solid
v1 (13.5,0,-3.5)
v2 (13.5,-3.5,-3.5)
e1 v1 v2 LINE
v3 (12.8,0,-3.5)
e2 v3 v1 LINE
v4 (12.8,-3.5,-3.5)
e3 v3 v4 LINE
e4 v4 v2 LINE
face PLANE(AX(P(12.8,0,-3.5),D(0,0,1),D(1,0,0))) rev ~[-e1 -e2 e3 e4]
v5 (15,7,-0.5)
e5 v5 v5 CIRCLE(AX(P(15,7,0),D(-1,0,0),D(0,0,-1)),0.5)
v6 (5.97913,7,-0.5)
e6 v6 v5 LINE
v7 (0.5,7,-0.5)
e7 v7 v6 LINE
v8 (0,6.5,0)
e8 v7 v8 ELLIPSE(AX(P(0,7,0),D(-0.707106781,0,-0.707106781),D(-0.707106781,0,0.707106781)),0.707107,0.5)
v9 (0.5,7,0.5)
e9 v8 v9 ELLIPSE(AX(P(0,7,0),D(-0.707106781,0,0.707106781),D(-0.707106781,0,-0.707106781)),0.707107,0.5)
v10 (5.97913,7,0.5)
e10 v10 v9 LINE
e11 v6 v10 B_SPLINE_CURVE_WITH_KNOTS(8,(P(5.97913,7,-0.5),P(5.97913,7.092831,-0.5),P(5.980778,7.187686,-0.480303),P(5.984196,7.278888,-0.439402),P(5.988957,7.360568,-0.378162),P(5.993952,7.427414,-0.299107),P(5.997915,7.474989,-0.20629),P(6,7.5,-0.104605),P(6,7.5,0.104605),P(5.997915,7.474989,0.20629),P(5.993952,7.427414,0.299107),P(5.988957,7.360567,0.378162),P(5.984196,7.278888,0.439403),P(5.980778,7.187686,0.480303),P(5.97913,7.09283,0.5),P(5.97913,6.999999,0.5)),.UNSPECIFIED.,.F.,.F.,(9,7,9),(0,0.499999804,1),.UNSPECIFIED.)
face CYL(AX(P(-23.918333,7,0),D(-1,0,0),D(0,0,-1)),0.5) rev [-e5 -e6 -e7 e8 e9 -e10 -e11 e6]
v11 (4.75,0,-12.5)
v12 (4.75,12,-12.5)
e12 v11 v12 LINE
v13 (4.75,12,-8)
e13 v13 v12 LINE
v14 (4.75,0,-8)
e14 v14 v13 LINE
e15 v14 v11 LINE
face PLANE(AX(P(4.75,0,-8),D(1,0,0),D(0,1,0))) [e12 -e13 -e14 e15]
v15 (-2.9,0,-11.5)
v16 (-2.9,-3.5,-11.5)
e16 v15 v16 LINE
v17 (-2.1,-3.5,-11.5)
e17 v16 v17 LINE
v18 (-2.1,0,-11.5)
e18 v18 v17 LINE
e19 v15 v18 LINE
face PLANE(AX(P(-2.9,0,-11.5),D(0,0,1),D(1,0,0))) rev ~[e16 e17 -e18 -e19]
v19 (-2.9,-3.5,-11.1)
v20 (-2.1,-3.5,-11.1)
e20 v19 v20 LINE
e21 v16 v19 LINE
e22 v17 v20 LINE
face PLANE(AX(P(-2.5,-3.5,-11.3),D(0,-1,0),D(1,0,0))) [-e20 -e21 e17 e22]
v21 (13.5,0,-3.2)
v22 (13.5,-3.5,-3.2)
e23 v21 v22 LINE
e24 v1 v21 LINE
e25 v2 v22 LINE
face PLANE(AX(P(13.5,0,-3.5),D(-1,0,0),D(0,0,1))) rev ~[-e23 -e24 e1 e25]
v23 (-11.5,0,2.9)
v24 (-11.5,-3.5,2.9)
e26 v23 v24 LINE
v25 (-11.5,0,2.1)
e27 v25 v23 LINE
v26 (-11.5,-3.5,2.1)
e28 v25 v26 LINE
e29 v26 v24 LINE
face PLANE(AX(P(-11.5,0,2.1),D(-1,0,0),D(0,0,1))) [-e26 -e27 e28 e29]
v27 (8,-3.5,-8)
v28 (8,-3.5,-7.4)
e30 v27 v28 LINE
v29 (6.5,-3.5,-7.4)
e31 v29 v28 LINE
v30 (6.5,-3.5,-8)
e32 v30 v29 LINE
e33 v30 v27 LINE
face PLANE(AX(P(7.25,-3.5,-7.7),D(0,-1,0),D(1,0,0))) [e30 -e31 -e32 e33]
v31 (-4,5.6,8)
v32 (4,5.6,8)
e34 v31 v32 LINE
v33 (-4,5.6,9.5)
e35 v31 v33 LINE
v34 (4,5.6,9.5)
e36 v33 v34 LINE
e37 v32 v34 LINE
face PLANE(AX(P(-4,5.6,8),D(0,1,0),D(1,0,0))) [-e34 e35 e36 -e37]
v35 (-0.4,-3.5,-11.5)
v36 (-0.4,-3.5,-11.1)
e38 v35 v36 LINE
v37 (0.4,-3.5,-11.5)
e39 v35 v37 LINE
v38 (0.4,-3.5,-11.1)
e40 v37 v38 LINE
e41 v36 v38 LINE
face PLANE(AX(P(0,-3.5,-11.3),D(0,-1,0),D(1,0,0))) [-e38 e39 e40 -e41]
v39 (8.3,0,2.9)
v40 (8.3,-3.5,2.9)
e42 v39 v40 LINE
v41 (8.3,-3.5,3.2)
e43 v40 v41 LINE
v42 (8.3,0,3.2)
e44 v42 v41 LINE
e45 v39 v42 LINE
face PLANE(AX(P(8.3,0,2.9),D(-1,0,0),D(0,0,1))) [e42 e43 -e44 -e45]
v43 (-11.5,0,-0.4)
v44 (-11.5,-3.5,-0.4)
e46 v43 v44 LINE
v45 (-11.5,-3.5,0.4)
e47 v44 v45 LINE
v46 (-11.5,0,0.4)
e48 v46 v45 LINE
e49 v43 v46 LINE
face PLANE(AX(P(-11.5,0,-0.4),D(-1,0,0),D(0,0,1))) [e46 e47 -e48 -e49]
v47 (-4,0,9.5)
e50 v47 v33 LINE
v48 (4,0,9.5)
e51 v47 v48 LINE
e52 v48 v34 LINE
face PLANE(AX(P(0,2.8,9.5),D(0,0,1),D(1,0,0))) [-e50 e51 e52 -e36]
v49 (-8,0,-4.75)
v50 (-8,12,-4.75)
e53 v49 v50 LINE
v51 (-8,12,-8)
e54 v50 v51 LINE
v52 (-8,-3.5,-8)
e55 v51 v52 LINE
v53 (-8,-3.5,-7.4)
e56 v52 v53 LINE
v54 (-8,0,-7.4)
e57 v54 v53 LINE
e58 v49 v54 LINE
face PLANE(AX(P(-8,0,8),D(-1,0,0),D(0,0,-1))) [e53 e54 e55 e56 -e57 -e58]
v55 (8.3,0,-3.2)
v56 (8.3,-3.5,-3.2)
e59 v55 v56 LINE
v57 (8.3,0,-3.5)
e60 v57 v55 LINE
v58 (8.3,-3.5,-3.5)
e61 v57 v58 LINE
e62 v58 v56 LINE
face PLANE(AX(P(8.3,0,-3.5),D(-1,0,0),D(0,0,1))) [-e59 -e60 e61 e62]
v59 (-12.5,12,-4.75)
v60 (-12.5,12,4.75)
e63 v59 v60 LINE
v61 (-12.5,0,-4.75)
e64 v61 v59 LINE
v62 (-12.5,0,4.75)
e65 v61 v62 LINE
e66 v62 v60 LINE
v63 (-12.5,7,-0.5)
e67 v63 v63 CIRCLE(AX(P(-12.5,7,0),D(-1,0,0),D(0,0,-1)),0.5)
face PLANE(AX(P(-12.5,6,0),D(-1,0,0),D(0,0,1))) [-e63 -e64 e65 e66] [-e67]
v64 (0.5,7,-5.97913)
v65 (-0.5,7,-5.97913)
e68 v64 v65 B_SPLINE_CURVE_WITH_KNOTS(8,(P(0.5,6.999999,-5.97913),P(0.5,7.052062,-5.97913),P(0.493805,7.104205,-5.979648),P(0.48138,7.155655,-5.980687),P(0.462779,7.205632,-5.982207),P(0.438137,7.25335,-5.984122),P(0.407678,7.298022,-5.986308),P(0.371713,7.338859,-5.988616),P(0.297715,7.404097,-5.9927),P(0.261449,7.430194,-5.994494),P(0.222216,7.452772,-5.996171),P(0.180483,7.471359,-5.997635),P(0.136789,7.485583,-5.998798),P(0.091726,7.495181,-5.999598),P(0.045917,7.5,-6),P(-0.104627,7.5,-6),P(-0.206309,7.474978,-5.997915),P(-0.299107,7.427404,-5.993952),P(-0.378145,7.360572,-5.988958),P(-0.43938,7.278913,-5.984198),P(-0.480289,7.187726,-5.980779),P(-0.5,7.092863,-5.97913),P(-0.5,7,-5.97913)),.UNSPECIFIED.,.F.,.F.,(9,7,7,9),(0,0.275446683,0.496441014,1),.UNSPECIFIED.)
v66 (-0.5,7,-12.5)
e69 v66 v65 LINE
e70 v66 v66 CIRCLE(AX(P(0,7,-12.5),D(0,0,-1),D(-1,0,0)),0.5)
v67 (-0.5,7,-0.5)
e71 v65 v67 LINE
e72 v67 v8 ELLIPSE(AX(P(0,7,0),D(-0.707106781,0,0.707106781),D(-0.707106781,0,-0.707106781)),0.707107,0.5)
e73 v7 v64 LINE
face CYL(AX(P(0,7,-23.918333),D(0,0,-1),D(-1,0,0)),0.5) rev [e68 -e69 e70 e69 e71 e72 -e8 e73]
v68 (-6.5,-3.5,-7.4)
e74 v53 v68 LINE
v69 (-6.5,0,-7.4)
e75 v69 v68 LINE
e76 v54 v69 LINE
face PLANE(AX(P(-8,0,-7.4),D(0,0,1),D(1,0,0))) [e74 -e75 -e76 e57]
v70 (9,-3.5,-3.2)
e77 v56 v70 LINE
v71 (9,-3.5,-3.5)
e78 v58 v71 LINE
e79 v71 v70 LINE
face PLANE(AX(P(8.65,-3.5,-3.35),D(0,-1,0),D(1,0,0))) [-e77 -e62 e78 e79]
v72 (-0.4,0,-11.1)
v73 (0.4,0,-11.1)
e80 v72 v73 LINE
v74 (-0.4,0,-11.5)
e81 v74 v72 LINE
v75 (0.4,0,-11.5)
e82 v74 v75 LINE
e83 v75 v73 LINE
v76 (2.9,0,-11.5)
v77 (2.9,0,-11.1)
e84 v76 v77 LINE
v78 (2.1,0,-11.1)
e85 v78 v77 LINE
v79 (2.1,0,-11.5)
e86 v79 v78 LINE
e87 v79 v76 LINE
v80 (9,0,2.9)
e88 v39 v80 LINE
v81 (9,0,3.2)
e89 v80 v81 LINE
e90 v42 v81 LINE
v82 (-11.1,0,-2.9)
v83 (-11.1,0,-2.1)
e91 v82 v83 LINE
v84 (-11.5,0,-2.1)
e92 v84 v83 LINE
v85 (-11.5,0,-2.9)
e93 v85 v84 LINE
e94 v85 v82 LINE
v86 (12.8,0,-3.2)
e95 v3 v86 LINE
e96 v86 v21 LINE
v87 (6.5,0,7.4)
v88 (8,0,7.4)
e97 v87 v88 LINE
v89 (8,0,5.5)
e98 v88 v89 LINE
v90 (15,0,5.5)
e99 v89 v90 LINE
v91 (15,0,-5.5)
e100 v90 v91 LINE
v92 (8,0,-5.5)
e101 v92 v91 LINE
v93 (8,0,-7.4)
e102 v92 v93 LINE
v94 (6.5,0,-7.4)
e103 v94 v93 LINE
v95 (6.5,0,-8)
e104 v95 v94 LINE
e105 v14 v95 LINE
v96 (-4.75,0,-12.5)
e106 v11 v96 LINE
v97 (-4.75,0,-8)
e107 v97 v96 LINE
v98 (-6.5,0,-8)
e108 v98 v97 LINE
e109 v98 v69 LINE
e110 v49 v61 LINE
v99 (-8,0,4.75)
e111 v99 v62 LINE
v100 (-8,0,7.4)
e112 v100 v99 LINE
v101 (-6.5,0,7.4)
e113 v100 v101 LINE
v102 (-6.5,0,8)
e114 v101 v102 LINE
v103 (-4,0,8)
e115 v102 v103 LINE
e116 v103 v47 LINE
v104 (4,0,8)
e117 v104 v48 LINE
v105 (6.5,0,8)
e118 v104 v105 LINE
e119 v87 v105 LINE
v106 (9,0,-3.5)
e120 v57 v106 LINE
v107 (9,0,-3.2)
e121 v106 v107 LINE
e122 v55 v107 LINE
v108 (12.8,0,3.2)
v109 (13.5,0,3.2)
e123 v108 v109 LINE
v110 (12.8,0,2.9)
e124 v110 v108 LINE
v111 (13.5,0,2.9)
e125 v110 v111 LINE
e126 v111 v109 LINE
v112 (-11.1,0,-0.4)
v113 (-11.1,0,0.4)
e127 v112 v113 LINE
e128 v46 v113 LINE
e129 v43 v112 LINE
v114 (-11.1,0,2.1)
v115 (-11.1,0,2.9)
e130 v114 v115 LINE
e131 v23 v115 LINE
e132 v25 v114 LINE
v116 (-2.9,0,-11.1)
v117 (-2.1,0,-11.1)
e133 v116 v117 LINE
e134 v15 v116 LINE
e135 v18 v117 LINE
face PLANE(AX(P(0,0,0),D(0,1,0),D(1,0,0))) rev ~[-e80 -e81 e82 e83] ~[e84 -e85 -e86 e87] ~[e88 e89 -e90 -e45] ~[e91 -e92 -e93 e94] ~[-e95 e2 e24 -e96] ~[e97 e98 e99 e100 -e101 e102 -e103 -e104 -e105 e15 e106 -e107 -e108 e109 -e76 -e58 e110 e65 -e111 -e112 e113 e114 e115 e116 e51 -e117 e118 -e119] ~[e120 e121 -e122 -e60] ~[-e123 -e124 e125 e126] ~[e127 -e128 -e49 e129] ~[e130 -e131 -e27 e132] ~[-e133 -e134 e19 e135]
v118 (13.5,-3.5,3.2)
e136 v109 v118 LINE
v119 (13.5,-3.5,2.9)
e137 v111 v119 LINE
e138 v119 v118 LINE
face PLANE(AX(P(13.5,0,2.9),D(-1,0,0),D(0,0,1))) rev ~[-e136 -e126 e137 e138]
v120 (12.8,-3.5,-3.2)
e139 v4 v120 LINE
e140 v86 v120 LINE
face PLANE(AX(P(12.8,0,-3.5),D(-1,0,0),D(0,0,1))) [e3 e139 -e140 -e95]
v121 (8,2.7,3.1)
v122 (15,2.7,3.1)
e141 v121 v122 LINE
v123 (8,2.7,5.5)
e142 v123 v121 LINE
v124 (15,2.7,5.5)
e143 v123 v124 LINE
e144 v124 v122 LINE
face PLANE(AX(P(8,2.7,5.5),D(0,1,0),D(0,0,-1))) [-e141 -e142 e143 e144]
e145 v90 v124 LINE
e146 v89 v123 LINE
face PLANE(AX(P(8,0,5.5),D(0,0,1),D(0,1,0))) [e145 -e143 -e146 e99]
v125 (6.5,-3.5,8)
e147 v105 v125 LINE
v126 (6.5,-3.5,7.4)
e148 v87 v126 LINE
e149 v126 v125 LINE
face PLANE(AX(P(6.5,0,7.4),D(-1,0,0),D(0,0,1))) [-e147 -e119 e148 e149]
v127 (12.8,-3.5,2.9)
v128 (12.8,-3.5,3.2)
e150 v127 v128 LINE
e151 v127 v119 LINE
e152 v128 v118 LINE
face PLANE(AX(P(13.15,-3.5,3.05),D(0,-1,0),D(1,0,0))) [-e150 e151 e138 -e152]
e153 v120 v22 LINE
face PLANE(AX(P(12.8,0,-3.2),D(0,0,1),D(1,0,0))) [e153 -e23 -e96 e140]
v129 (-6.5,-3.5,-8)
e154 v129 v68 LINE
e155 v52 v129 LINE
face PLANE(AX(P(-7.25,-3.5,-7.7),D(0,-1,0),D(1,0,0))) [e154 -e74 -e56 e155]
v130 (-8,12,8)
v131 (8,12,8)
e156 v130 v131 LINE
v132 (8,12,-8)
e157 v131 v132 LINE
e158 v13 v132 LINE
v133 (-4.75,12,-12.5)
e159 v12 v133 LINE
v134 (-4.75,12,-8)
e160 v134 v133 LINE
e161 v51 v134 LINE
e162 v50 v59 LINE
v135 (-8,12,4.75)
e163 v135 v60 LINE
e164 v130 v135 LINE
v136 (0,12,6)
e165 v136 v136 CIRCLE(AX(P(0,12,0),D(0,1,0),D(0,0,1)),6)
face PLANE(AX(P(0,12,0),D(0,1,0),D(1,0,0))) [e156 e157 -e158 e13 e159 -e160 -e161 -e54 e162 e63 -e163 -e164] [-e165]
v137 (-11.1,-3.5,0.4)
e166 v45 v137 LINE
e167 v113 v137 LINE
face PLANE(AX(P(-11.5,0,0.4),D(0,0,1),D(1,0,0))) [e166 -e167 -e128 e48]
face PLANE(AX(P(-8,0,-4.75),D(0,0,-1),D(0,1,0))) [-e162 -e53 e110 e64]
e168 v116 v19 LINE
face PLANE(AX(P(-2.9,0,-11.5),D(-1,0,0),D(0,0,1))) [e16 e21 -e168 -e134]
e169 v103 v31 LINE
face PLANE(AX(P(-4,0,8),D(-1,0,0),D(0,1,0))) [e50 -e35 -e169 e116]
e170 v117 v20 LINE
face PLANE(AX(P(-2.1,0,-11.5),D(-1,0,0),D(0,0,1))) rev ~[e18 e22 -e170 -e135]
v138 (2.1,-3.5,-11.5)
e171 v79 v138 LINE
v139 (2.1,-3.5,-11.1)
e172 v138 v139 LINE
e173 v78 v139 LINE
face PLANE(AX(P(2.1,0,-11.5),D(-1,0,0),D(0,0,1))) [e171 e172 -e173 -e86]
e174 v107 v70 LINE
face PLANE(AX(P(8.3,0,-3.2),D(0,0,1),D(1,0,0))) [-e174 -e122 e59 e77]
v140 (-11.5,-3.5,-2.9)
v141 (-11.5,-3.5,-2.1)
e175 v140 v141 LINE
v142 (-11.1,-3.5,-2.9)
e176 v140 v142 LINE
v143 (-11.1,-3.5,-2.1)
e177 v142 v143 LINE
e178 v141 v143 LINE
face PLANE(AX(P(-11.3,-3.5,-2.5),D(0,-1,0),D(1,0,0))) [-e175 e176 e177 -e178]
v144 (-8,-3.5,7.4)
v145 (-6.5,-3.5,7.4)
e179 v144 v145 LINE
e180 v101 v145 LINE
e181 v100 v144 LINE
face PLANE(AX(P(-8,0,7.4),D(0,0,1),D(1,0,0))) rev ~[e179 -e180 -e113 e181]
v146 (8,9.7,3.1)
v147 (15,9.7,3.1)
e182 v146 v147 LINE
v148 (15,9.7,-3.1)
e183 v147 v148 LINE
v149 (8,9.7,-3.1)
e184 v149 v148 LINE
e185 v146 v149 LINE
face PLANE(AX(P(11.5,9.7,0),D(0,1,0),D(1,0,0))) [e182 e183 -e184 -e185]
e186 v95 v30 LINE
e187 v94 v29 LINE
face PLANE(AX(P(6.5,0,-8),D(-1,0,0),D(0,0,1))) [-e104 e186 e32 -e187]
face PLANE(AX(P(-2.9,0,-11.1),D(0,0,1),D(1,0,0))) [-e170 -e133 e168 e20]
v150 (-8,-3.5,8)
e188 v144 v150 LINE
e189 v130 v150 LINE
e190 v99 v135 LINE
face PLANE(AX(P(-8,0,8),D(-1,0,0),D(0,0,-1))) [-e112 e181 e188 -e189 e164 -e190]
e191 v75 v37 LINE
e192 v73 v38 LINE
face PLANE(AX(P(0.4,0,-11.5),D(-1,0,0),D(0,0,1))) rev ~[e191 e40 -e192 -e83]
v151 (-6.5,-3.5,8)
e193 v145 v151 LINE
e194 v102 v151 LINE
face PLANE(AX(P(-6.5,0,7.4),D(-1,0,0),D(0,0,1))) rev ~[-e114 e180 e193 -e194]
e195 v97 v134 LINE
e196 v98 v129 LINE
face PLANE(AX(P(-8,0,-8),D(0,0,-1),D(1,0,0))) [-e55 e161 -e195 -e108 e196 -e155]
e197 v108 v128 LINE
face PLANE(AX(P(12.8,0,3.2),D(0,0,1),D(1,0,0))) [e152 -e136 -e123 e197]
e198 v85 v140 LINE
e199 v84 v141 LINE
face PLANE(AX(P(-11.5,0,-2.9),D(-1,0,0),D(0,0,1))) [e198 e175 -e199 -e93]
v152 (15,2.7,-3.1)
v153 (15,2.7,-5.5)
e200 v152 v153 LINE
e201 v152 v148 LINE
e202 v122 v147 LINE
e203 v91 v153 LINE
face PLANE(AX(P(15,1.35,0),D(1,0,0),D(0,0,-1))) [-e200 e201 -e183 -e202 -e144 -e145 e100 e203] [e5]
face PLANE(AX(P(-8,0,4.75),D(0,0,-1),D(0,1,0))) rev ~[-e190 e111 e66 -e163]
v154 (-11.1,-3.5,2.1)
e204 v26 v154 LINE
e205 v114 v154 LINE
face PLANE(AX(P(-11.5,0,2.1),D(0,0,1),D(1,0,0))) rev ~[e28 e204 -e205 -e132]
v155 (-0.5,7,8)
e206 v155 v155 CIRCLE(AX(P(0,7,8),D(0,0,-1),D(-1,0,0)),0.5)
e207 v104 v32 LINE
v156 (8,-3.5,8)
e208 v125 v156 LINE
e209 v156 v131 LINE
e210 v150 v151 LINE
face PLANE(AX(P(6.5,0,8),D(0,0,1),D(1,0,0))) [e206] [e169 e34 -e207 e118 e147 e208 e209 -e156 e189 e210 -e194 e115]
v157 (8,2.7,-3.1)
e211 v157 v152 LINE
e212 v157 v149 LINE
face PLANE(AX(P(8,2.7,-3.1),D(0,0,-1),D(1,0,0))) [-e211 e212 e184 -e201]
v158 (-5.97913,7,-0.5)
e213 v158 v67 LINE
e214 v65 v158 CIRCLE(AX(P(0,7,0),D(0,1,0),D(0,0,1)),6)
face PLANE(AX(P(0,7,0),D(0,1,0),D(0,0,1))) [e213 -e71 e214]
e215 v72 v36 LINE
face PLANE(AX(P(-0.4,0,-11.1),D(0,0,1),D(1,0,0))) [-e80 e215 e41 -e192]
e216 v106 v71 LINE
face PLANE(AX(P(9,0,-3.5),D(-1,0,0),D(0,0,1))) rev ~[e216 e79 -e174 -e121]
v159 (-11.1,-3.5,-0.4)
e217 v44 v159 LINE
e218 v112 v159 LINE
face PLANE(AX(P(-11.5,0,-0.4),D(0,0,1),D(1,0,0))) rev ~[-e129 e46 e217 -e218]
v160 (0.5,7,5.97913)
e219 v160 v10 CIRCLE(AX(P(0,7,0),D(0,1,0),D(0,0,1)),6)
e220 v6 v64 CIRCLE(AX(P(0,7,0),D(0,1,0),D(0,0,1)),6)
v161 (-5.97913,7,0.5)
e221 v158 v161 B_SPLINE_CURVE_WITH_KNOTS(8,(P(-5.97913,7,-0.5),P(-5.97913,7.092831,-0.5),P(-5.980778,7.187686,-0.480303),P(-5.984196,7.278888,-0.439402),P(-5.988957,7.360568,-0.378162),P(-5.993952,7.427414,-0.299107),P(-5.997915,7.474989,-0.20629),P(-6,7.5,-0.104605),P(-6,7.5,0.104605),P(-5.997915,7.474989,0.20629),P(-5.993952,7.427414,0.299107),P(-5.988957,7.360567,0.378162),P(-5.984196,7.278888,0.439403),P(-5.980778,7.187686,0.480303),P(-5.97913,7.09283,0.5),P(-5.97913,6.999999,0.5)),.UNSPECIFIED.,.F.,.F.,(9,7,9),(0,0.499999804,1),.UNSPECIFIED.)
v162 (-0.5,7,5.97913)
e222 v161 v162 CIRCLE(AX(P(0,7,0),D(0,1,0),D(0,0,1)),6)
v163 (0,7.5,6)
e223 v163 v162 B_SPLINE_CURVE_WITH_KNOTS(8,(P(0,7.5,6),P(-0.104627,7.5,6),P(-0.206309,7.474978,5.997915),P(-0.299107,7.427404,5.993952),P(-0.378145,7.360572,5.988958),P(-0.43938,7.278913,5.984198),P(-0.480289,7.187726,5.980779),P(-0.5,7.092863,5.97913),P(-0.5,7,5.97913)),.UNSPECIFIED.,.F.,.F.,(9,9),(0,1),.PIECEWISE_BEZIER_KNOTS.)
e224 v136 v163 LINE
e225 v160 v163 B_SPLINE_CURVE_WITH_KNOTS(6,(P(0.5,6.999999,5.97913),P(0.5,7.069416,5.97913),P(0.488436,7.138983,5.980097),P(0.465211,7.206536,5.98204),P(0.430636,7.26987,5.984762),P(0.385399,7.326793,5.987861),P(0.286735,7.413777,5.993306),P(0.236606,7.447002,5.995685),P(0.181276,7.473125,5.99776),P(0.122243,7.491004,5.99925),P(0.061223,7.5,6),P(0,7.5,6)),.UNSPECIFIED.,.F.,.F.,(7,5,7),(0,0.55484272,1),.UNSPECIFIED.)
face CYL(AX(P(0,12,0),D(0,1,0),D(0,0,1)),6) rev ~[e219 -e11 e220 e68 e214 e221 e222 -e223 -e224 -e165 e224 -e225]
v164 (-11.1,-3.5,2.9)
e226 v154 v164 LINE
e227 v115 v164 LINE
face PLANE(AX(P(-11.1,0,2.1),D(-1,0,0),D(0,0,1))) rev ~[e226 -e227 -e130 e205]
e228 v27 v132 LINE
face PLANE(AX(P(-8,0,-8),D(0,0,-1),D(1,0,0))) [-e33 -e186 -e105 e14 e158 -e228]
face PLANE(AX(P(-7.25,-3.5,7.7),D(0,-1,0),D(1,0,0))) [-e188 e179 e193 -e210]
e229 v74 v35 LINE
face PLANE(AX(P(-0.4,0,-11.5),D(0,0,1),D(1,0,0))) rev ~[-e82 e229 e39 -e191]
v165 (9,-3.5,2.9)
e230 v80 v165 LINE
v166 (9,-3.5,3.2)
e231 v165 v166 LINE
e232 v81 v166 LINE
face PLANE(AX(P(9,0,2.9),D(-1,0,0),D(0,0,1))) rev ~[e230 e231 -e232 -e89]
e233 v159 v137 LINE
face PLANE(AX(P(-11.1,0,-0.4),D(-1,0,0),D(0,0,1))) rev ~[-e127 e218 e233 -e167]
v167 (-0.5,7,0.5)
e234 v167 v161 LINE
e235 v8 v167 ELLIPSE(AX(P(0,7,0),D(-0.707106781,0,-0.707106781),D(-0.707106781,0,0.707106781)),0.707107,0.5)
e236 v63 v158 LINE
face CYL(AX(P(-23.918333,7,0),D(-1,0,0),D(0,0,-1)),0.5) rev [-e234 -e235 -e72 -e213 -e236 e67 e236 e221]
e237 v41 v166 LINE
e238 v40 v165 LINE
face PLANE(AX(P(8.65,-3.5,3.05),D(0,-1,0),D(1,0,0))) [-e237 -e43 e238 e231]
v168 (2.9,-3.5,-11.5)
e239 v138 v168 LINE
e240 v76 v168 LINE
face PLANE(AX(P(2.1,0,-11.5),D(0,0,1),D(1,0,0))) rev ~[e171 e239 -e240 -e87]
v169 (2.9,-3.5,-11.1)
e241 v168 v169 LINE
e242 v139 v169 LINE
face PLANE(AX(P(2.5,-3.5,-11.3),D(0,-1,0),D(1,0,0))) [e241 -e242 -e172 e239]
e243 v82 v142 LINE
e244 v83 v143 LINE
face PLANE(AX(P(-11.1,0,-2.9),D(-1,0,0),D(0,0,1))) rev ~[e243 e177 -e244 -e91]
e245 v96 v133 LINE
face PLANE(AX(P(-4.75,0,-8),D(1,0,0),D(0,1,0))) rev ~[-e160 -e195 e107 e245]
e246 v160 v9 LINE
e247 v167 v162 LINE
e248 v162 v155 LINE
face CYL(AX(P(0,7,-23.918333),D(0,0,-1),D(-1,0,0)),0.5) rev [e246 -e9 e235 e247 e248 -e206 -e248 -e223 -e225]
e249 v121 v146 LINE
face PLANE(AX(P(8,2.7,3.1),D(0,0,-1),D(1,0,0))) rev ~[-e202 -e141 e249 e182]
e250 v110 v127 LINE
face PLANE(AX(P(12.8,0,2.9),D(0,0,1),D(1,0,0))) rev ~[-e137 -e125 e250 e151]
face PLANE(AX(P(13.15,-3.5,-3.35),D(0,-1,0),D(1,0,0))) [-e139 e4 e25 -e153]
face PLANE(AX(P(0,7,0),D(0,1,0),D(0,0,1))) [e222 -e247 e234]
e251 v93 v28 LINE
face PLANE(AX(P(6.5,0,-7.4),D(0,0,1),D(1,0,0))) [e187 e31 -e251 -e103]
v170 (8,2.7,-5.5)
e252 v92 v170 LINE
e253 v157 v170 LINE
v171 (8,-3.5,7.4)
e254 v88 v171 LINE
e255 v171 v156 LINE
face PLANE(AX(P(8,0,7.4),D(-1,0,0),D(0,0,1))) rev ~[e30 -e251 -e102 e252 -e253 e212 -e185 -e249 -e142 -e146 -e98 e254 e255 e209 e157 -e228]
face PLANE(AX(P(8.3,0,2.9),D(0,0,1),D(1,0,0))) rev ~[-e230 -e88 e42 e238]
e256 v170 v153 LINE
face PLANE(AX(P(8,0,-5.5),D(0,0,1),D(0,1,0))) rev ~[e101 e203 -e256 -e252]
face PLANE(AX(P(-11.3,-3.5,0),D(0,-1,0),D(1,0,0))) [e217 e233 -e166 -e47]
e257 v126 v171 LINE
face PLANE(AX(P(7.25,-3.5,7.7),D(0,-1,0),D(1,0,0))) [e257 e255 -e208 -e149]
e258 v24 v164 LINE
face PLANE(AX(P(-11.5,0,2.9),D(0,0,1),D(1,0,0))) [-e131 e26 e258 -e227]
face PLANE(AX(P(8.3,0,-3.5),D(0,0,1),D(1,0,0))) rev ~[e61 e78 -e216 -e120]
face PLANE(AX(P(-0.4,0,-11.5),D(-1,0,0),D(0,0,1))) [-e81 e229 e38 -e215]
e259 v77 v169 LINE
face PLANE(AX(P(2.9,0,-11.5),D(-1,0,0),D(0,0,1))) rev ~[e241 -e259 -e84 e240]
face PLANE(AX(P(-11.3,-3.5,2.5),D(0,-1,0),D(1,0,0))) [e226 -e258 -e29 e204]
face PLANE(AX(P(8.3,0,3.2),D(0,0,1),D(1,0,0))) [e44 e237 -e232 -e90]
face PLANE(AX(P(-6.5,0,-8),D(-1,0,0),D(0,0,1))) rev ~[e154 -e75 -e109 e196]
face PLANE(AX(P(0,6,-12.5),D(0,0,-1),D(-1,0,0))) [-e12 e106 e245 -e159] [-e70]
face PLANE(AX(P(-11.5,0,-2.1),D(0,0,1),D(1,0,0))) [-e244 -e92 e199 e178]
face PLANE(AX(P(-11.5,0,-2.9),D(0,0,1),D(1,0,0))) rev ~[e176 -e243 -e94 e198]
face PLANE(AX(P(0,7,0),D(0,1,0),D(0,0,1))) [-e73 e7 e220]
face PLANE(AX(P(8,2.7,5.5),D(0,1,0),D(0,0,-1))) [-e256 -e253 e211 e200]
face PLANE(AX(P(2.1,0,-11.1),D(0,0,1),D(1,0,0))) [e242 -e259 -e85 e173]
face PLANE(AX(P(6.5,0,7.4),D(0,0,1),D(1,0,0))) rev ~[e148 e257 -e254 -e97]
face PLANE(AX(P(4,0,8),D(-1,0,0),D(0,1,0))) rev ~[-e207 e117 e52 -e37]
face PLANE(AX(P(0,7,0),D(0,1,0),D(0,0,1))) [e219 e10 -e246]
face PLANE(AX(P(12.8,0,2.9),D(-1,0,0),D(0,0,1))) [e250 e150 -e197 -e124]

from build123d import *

# Parameters (mm, degrees)
SKETCH1_W               = 16
SKETCH1_H               = 16
BOSS_EXTRUDE1_DEPTH     = 12
SKETCH2_W               = 9.5
SKETCH2_H               = 12
BOSS_EXTRUDE2_DEPTH     = 4.5
CIRPATTERN1_COUNT       = 2
CIRPATTERN1_ANGLE       = 90
SKETCH4_W               = 8
SKETCH4_H               = 5.6
BOSS_EXTRUDE3_DEPTH     = 1.5
SKETCH5_W               = 11
SKETCH5_H               = 2.7
BOSS_EXTRUDE4_DEPTH     = 7
SKETCH6_W               = 7
SKETCH6_H               = 6.2
BOSS_EXTRUDE5_DEPTH     = 7
SKETCH7_R               = 6
CUT_EXTRUDE1_DEPTH      = 5
CUT_EXTRUDE2_DEPTH      = 23.918333273
CUT_EXTRUDE2_DEPTH_BACK = 23.918333273
SKETCH8_R               = 0.5
CUT_EXTRUDE3_DEPTH      = 23.918333391
CUT_EXTRUDE3_DEPTH_BACK = 23.918333391
SKETCH9_R               = 0.5
SKETCH10_W              = 1.5
SKETCH10_H              = 0.6
SKETCH10_W_2            = 0.4
SKETCH10_H_2            = 0.8
SKETCH10_W_3            = 0.8
SKETCH10_H_3            = 0.4
SKETCH10_W_4            = 0.7
SKETCH10_H_4            = 0.3
BOSS_EXTRUDE6_DEPTH     = 3.5


with BuildPart() as part:
    # Sketch1 → Boss-Extrude1 (new body)
    with BuildSketch(Plane(origin=(0, 0, 0), x_dir=(1, 0, 0), z_dir=(0, 1, 0))):
        Rectangle(SKETCH1_W, SKETCH1_H)
    extrude(amount=BOSS_EXTRUDE1_DEPTH)

    # Sketch2 → Boss-Extrude2 (add)
    with BuildSketch(Plane.ZY.offset(8)):
        with Locations((0, 6)):
            Rectangle(SKETCH2_W, SKETCH2_H)
    boss_extrude2 = extrude(amount=BOSS_EXTRUDE2_DEPTH)

    # CirPattern1: Boss-Extrude2 ×2 about axis
    cirpattern1_axis = Axis((0, 12.6, 0), (0, -1, 0))
    for i in range(1, CIRPATTERN1_COUNT):
        add(boss_extrude2.rotate(cirpattern1_axis, i * CIRPATTERN1_ANGLE / (CIRPATTERN1_COUNT - 1)))

    # Sketch4 → Boss-Extrude3 (add)
    with BuildSketch(Plane.XY.offset(8)):
        with Locations((0, 2.8)):
            Rectangle(SKETCH4_W, SKETCH4_H)
    extrude(amount=BOSS_EXTRUDE3_DEPTH)

    # Sketch5 → Boss-Extrude4 (add)
    with BuildSketch(Plane(origin=(8, 0, 0), x_dir=(0, 0, -1), z_dir=(1, 0, 0))):
        with Locations((0, 1.35)):
            Rectangle(SKETCH5_W, SKETCH5_H)
    extrude(amount=BOSS_EXTRUDE4_DEPTH)

    # Sketch6 → Boss-Extrude5 (add)
    with BuildSketch(Plane(origin=(0, 2.7, 0), x_dir=(1, 0, 0), z_dir=(0, 1, 0))):
        with Locations((11.5, 0)):
            Rectangle(SKETCH6_W, SKETCH6_H)
    extrude(amount=BOSS_EXTRUDE5_DEPTH)

    # Sketch7 → Cut-Extrude1 (cut)
    with BuildSketch(Plane(origin=(0, 12, 0), x_dir=(1, 0, 0), z_dir=(0, 1, 0))):
        Circle(SKETCH7_R)
    extrude(amount=-CUT_EXTRUDE1_DEPTH, mode=Mode.SUBTRACT)

    # Sketch8 → Cut-Extrude2 (cut, two sides: drawn at the far end of the back side and taken through both)
    with BuildSketch(Plane(origin=(0, 0, 0), x_dir=(0, 0, -1), z_dir=(1, 0, 0)).offset(-CUT_EXTRUDE2_DEPTH_BACK)):
        with Locations((0, 7)):
            Circle(SKETCH8_R)
    extrude(amount=CUT_EXTRUDE2_DEPTH + CUT_EXTRUDE2_DEPTH_BACK, mode=Mode.SUBTRACT)

    # Sketch9 → Cut-Extrude3 (cut, two sides: drawn at the far end of the back side and taken through both)
    with BuildSketch(Plane.XY.offset(-CUT_EXTRUDE3_DEPTH_BACK)):
        with Locations((0, 7)):
            Circle(SKETCH9_R)
    extrude(amount=CUT_EXTRUDE3_DEPTH + CUT_EXTRUDE3_DEPTH_BACK, mode=Mode.SUBTRACT)

    # Sketch10 → Boss-Extrude6 (add)
    with BuildSketch(Plane.XZ):
        with Locations((7.25, 7.7)):
            Rectangle(SKETCH10_W, SKETCH10_H)
        with Locations((-7.25, 7.7)):
            Rectangle(SKETCH10_W, SKETCH10_H)
        with Locations((7.25, -7.7)):
            Rectangle(SKETCH10_W, SKETCH10_H)
        with Locations((-7.25, -7.7)):
            Rectangle(SKETCH10_W, SKETCH10_H)
        with Locations((-11.3, 0)):
            Rectangle(SKETCH10_W_2, SKETCH10_H_2)
        with Locations((-11.3, -2.5)):
            Rectangle(SKETCH10_W_2, SKETCH10_H_2)
        with Locations((-11.3, 2.5)):
            Rectangle(SKETCH10_W_2, SKETCH10_H_2)
        with Locations((-2.5, -11.3)):
            Rectangle(SKETCH10_W_3, SKETCH10_H_3)
        with Locations((0, -11.3)):
            Rectangle(SKETCH10_W_3, SKETCH10_H_3)
        with Locations((2.5, -11.3)):
            Rectangle(SKETCH10_W_3, SKETCH10_H_3)
        with Locations((13.15, -3.35)):
            Rectangle(SKETCH10_W_4, SKETCH10_H_4)
        with Locations((8.65, -3.35)):
            Rectangle(SKETCH10_W_4, SKETCH10_H_4)
        with Locations((8.65, 3.05)):
            Rectangle(SKETCH10_W_4, SKETCH10_H_4)
        with Locations((13.15, 3.05)):
            Rectangle(SKETCH10_W_4, SKETCH10_H_4)
    extrude(amount=BOSS_EXTRUDE6_DEPTH)


solid = part.part
